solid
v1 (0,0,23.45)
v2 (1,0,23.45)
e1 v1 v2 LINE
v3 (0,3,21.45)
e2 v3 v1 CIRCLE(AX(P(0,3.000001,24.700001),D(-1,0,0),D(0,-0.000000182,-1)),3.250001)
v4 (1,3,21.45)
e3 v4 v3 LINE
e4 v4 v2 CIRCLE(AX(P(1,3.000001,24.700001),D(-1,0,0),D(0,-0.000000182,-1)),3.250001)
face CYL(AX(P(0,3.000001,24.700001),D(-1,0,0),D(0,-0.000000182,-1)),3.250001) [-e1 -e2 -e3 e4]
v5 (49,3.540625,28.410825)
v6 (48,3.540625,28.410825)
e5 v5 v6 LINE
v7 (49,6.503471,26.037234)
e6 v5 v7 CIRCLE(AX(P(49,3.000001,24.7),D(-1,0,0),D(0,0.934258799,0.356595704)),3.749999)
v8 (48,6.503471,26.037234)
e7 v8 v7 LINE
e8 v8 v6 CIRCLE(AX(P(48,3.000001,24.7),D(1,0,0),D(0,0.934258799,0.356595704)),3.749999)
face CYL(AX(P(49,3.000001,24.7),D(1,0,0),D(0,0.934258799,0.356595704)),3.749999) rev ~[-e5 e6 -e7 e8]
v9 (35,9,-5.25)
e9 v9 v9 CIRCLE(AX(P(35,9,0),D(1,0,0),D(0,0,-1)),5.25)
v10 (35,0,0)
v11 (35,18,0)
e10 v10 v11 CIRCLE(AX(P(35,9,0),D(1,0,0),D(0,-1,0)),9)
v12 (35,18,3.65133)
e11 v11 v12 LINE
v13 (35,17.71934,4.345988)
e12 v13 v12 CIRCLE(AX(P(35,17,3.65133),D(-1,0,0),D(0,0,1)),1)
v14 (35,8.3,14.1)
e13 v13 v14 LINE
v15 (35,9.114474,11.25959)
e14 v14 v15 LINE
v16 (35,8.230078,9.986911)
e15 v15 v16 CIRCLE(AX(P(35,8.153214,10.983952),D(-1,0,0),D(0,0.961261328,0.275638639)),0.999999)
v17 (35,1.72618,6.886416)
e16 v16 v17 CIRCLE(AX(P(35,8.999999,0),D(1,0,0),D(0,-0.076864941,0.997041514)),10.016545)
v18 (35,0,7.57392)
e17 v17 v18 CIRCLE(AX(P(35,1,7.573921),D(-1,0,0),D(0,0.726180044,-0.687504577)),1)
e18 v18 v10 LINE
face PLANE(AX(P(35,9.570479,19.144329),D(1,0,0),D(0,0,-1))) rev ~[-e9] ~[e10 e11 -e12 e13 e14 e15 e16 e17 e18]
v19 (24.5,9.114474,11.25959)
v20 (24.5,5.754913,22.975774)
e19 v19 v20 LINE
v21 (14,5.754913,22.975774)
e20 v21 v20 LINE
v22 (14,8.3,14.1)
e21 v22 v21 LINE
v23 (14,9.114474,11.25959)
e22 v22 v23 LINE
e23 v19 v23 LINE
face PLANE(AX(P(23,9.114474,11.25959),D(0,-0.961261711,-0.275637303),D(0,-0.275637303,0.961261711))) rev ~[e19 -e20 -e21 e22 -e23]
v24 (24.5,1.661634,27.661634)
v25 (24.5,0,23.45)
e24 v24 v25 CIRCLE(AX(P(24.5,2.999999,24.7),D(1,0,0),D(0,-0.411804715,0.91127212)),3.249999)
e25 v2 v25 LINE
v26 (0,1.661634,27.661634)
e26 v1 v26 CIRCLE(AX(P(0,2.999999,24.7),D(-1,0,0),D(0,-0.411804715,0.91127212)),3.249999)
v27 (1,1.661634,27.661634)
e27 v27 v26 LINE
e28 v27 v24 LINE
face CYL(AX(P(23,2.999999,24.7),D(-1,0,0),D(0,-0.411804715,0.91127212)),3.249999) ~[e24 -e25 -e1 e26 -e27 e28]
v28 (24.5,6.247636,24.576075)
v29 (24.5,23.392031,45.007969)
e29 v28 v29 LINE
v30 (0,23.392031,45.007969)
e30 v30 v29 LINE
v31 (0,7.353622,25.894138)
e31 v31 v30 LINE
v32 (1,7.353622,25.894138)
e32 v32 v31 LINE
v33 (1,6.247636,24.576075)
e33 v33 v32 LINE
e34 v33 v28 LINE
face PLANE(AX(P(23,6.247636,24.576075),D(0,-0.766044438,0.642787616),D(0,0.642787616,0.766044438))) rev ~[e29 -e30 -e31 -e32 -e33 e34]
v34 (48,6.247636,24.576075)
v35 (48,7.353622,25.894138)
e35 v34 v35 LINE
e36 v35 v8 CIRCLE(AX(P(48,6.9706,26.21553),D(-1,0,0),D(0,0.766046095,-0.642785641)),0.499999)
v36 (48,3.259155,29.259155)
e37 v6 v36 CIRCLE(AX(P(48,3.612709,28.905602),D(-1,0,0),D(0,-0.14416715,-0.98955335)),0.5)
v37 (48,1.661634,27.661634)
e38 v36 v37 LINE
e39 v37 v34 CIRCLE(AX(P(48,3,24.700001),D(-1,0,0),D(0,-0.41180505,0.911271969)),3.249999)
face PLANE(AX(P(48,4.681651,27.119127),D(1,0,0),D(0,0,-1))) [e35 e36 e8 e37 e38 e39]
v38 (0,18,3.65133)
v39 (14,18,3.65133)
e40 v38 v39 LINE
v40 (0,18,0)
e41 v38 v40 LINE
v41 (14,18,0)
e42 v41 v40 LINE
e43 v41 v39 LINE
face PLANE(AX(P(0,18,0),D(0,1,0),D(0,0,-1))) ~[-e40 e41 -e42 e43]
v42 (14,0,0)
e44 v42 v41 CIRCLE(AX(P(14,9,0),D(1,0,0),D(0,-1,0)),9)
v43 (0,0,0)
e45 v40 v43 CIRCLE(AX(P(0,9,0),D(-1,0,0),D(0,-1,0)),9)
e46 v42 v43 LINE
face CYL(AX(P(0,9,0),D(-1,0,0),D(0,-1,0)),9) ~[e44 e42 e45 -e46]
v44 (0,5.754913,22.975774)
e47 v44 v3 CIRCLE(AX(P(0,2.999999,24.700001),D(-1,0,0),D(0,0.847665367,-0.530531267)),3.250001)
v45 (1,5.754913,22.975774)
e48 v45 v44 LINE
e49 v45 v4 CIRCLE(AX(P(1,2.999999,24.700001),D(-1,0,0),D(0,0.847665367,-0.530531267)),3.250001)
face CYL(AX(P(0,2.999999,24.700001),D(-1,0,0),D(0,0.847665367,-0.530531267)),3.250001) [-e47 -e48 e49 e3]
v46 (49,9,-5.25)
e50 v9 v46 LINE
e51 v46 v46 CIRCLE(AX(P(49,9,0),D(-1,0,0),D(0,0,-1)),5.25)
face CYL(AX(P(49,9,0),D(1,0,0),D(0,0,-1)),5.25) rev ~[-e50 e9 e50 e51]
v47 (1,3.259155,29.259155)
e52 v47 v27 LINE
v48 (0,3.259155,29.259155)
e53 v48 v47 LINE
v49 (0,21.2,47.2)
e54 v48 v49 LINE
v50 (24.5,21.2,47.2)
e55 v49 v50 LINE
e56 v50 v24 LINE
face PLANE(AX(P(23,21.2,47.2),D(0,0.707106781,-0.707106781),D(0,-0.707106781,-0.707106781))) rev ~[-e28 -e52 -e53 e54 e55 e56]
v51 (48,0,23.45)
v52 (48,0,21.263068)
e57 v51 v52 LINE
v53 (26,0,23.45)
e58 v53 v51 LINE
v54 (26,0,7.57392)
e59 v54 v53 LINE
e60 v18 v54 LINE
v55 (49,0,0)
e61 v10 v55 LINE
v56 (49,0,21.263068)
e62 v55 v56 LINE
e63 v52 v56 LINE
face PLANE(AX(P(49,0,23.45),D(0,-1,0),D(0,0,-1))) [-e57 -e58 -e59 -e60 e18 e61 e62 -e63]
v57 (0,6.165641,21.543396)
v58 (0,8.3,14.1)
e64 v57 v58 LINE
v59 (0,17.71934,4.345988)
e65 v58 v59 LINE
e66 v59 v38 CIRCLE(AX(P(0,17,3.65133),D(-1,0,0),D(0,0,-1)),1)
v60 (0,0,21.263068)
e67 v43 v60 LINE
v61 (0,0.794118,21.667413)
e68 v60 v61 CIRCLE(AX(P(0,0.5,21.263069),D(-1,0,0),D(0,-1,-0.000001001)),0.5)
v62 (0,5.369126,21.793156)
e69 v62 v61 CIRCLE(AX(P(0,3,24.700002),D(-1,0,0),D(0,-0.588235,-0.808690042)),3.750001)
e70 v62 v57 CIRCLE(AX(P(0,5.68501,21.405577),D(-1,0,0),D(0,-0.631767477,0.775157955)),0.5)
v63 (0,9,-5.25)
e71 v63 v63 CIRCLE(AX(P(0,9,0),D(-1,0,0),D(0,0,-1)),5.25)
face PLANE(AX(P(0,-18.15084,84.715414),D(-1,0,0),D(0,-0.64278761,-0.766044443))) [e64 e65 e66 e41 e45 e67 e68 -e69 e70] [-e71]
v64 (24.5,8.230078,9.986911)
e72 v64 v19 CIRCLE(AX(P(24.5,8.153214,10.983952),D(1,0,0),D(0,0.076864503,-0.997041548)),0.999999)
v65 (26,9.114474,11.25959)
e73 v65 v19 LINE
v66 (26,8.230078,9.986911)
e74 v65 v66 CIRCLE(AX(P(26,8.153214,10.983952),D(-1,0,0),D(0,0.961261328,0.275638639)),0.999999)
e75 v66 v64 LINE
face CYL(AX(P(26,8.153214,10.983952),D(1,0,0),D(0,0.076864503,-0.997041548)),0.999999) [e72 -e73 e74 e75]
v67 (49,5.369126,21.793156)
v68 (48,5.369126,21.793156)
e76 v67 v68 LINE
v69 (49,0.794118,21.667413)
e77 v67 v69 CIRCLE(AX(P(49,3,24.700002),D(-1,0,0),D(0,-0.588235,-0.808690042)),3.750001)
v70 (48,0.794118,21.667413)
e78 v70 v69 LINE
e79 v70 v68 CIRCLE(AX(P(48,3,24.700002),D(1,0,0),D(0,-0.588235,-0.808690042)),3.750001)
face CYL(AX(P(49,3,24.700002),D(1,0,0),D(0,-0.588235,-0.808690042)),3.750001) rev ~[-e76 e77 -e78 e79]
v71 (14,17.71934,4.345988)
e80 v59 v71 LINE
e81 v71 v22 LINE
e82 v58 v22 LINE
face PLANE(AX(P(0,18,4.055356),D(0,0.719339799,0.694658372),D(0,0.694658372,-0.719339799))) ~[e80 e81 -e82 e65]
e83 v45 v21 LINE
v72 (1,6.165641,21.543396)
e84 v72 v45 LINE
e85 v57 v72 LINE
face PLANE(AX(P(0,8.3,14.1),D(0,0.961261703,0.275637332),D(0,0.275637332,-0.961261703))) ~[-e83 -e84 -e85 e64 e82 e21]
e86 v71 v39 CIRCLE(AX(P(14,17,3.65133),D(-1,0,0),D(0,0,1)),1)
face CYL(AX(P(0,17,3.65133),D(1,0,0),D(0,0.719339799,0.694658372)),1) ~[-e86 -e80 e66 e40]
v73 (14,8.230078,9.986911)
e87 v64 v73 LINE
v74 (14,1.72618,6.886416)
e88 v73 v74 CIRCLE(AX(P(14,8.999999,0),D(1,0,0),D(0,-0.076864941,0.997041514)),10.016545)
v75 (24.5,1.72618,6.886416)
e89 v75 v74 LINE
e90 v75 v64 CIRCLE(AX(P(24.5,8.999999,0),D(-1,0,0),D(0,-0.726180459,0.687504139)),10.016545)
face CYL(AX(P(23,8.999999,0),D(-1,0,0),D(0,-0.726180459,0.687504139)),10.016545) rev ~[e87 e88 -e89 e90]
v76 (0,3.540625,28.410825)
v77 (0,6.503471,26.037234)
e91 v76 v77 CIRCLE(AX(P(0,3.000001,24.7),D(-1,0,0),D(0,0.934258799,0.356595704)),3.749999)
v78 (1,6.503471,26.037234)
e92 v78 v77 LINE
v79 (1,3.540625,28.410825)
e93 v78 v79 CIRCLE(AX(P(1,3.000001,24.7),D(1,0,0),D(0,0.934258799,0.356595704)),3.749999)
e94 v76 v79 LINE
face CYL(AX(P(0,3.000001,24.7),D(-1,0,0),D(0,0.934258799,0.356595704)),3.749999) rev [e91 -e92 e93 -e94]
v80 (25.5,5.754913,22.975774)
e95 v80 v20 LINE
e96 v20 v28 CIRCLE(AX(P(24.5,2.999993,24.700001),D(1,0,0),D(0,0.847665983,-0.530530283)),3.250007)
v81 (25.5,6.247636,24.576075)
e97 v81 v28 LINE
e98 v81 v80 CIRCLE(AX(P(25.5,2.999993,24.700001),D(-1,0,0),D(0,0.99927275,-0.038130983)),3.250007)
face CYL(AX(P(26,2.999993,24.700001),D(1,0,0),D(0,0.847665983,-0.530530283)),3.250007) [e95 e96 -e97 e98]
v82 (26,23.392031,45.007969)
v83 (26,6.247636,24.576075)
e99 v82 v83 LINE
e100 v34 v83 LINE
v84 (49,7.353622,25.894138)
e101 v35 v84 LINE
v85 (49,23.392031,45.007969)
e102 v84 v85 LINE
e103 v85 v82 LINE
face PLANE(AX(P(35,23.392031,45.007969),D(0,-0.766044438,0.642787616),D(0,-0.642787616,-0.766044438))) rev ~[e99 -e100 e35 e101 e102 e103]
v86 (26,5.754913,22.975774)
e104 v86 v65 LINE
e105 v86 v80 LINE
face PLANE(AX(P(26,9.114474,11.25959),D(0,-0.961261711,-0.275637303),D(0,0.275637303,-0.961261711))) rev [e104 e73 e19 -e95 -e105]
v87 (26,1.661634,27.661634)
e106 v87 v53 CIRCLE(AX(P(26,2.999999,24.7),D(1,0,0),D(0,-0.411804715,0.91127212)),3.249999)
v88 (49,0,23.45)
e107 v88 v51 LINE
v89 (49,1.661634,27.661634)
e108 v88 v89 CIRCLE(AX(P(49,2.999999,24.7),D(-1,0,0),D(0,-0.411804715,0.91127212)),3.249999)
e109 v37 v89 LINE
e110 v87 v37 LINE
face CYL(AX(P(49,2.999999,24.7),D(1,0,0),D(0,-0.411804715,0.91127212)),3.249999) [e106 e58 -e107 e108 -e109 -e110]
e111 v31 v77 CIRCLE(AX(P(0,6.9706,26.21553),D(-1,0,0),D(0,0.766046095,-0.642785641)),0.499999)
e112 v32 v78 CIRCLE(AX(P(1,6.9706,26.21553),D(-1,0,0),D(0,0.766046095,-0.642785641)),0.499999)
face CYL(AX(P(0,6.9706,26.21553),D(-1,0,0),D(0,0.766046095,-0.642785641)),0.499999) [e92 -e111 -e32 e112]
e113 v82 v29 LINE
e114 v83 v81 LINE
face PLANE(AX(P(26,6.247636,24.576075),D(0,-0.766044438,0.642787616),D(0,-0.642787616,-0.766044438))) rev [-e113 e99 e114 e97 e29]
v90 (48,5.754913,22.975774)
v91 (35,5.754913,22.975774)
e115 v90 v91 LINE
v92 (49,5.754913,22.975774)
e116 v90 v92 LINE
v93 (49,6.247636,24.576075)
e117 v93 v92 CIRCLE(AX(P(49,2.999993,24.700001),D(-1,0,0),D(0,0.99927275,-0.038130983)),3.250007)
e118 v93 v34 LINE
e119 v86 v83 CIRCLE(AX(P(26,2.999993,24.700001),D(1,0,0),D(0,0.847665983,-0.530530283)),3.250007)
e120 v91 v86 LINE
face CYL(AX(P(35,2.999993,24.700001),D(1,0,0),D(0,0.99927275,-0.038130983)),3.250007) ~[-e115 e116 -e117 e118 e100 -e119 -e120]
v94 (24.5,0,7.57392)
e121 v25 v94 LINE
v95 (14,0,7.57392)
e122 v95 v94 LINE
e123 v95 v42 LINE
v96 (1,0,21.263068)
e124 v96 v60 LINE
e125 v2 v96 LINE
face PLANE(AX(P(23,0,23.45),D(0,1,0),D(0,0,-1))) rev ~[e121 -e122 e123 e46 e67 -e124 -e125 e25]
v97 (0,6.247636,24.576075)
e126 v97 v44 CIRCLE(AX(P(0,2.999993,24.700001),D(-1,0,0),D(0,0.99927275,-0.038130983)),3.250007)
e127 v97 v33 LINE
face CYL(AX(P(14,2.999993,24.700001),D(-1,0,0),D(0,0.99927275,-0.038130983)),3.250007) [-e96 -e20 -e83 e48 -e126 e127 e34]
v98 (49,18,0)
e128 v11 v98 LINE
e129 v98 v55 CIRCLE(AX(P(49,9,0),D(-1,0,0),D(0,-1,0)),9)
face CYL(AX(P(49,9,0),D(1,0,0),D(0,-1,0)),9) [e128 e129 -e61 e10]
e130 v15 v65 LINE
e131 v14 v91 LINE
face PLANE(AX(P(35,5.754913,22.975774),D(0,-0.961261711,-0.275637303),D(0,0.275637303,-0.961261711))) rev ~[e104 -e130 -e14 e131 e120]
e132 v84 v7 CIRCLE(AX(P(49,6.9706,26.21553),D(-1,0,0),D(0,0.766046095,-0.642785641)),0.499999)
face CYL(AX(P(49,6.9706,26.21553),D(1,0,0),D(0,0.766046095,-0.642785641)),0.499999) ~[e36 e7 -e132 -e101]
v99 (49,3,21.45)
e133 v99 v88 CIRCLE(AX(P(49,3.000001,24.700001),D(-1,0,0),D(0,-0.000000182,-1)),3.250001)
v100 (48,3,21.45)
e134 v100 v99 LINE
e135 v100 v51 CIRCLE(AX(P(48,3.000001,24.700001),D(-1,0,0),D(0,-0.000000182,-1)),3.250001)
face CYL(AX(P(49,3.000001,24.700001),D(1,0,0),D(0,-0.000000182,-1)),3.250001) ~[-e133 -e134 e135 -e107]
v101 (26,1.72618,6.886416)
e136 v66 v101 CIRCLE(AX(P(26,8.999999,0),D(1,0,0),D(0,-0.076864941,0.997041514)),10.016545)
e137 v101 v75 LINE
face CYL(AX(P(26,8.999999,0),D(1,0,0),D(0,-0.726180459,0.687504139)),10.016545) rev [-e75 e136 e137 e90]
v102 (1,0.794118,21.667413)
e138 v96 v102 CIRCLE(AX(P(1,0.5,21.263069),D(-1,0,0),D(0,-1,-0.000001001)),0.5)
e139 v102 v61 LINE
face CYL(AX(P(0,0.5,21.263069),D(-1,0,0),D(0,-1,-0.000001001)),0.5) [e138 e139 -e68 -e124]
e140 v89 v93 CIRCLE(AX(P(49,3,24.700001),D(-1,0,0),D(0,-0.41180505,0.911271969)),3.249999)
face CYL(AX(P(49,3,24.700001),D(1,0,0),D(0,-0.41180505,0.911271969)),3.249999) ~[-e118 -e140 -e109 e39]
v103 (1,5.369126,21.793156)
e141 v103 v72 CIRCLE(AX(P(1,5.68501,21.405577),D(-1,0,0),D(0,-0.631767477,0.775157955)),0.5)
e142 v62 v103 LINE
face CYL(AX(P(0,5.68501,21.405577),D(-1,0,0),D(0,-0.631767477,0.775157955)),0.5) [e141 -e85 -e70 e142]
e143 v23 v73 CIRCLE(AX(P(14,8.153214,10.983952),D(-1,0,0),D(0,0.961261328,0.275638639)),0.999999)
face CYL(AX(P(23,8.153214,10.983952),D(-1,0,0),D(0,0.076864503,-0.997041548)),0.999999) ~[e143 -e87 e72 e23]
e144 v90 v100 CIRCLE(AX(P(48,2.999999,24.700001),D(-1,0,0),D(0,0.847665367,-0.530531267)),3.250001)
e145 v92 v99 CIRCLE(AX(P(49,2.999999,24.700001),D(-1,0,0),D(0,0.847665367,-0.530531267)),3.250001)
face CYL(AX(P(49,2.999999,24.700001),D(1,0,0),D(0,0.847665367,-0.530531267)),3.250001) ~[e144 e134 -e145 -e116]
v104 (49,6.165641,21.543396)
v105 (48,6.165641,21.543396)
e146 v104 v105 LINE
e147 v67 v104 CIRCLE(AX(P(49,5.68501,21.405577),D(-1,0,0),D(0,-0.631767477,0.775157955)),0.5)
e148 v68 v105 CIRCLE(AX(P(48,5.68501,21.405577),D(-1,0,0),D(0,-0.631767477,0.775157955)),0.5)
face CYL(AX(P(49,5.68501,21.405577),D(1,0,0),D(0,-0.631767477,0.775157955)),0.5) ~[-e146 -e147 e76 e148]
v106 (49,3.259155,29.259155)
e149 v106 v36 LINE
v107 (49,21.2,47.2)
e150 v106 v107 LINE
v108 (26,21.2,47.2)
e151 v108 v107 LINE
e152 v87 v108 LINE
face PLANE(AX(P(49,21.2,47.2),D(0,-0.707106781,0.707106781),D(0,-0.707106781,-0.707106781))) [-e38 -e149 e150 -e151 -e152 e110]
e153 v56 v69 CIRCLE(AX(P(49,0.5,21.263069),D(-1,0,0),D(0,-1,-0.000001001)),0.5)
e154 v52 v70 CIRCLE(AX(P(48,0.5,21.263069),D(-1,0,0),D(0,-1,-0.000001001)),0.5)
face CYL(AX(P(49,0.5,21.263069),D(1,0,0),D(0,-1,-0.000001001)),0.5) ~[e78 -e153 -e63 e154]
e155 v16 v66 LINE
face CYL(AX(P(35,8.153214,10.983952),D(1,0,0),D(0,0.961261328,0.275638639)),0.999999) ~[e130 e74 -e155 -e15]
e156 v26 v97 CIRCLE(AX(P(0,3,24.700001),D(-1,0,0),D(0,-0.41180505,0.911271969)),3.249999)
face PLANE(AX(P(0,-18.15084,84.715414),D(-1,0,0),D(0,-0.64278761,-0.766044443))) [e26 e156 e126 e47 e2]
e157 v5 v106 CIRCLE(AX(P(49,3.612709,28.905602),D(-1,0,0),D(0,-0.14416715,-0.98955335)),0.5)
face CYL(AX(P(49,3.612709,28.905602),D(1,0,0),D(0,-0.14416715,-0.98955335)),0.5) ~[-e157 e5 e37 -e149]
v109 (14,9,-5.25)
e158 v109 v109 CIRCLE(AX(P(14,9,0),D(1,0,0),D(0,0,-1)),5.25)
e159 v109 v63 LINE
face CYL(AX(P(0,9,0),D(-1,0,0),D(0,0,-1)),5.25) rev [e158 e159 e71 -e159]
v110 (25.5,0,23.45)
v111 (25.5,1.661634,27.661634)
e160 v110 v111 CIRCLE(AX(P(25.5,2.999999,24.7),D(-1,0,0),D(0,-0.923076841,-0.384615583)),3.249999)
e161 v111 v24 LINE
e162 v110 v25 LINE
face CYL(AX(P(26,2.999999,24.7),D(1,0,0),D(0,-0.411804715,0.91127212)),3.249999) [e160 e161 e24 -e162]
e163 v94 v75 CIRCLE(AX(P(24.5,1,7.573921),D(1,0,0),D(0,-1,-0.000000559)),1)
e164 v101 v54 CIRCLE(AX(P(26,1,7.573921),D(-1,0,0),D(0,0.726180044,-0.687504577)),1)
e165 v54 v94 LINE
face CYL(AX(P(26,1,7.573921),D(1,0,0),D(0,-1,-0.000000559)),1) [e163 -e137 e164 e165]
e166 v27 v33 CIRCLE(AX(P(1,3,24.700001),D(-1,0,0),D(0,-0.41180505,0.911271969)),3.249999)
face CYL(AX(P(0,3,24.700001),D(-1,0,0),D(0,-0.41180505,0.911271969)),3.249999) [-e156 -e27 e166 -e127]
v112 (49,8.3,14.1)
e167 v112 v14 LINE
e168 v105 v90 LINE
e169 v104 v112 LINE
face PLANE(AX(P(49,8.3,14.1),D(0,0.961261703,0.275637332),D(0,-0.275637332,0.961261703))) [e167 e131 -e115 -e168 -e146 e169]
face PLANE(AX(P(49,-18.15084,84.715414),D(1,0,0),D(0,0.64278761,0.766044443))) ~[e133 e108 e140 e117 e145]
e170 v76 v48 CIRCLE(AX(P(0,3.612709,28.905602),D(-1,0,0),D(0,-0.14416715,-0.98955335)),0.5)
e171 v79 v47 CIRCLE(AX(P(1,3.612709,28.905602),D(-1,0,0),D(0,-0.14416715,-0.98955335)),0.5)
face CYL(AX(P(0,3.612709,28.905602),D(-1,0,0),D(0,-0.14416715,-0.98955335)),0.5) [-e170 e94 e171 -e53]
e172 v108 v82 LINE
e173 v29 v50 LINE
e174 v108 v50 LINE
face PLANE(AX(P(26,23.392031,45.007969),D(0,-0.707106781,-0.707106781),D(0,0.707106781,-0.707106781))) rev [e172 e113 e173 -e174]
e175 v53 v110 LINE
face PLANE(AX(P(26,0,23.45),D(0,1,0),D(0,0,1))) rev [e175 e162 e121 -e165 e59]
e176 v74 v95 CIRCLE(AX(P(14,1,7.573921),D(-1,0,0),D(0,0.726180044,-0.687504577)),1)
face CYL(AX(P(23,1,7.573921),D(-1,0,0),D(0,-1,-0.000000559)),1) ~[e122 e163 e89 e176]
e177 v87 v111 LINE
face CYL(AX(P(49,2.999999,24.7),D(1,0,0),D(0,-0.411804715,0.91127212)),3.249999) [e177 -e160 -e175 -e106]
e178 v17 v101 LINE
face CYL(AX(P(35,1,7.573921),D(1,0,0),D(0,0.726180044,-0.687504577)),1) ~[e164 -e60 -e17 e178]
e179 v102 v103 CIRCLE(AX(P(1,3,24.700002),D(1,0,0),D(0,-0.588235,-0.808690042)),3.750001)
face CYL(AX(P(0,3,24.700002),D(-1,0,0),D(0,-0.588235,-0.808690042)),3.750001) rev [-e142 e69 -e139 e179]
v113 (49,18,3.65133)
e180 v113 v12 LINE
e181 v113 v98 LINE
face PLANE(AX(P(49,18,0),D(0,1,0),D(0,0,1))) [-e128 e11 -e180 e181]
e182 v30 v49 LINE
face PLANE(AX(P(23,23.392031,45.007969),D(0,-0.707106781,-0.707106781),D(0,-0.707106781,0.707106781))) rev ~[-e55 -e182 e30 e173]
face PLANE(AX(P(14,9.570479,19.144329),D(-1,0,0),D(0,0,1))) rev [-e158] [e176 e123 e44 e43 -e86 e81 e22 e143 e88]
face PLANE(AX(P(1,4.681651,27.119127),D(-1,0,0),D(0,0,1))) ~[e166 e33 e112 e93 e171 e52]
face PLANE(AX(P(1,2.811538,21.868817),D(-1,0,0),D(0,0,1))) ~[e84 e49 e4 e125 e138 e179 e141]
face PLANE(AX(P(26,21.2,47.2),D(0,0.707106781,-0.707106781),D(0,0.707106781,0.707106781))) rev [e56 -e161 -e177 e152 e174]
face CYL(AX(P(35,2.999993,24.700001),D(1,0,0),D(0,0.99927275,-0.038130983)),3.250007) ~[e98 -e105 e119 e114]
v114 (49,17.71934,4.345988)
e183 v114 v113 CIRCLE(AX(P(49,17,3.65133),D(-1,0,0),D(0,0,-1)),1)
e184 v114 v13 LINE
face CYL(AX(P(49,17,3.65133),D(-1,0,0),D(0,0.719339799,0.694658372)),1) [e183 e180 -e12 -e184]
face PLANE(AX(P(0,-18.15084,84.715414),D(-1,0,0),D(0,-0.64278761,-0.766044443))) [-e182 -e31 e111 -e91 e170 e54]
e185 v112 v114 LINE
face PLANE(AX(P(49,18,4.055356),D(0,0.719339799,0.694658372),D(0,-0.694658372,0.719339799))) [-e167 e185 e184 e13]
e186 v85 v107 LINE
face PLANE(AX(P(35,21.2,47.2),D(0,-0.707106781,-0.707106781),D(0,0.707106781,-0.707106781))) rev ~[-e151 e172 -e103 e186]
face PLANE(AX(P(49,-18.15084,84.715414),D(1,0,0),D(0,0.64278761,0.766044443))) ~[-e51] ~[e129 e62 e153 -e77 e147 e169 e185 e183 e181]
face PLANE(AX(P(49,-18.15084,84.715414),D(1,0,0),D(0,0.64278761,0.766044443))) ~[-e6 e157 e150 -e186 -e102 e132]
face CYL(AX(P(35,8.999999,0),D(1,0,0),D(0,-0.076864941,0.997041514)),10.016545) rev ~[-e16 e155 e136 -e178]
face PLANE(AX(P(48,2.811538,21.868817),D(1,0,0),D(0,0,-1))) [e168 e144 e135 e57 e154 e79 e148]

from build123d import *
from build123d.topology import SkipClean

# Parameters (mm, degrees)
SKETCH2_R               = 5.25
BOSS_EXTRUDE1_DEPTH     = 14
CUT_EXTRUDE1_DEPTH      = 1
CUT_EXTRUDE2_DEPTH      = 1
BOSS_EXTRUDE2_DEPTH     = 9
BOSS_EXTRUDE3_DEPTH     = 9.5
FILLET1_R               = 1
FILLET1_OF_MIRROR1_R    = 1
CUT_EXTRUDE3_DEPTH      = 57.347139
CUT_EXTRUDE3_DEPTH_BACK = 57.347139
BOSS_EXTRUDE4_DEPTH     = 1.5


with BuildPart() as part:
    # Sketch2 → Boss-Extrude1 (new body)
    with BuildSketch(Plane(origin=(0, 0, 0), x_dir=(0, 0, -1), z_dir=(1, 0, 0))):
        with BuildLine():
            ThreePointArc((0, 0), (9, 9), (0, 18))
            Line((0, 18), (-4.055356, 18))
            Line((-4.055356, 18), (-14.1, 8.3))
            Line((-14.1, 8.3), (-22.975774, 5.754913))
            ThreePointArc((-22.975774, 5.754913), (-23.743648, 6.106105), (-24.576075, 6.247636))
            Line((-24.576075, 6.247636), (-45.007969, 23.392031))
            Line((-45.007969, 23.392031), (-47.2, 21.2))
            Line((-47.2, 21.2), (-27.661634, 1.661634))
            ThreePointArc((-27.661634, 1.661634), (-25.892761, -0.023214), (-23.45, 0))
            Line((-23.45, 0), (0, 0))
        make_face()
        with Locations((0, 9)):
            Circle(SKETCH2_R, mode=Mode.SUBTRACT)
    boss_extrude1 = extrude(amount=-BOSS_EXTRUDE1_DEPTH)

    # Sketch2<5> → Cut-Extrude1 (cut)
    with BuildSketch(Plane(origin=(0, 0, 0), x_dir=(0, 0, -1), z_dir=(1, 0, 0))):
        with BuildLine():
            Line((-29.259155, 3.259155), (-27.661634, 1.661634))
            ThreePointArc((-27.661634, 1.661634), (-27.39648, 4.814248), (-24.576075, 6.247636))
            Line((-24.576075, 6.247636), (-25.894138, 7.353622))
            ThreePointArc((-25.894138, 7.353622), (-25.722467, 6.887608), (-26.037234, 6.503471))
            ThreePointArc((-26.037234, 6.503471), (-27.62666, 5.344603), (-28.410825, 3.540625))
            ThreePointArc((-28.410825, 3.540625), (-28.748146, 3.138148), (-29.259155, 3.259155))
        make_face()
    cut_extrude1 = extrude(amount=-CUT_EXTRUDE1_DEPTH, mode=Mode.SUBTRACT)

    # Sketch2<6> → Cut-Extrude2 (cut)
    with SkipClean():  # the faces are left unmerged after this step: merging them gives an invalid solid
        with BuildSketch(Plane(origin=(0, 0, 0), x_dir=(0, 0, -1), z_dir=(1, 0, 0))):
            with BuildLine():
                Line((-23.45, 0), (-21.263068, 0))
                ThreePointArc((-21.263068, 0), (-21.708635, 0.273129), (-21.667413, 0.794118))
                ThreePointArc((-21.667413, 0.794118), (-20.951416, 3.103029), (-21.793156, 5.369126))
                ThreePointArc((-21.793156, 5.369126), (-21.882672, 5.834611), (-21.543396, 6.165641))
                Line((-21.543396, 6.165641), (-22.975774, 5.754913))
                ThreePointArc((-22.975774, 5.754913), (-21.856918, 4.574606), (-21.45, 3))
                ThreePointArc((-21.45, 3), (-21.995837, 1.197224), (-23.45, 0))
            make_face()
        cut_extrude2 = extrude(amount=-CUT_EXTRUDE2_DEPTH, mode=Mode.SUBTRACT)

    # Sketch3 → Boss-Extrude2 (add)
    with SkipClean():  # the faces are left unmerged after this step: merging them gives an invalid solid
        with BuildSketch(Plane.ZY.offset(14)):
            with BuildLine():
                Line((47.2, 21.2), (45.007969, 23.392031))
                Line((45.007969, 23.392031), (24.576075, 6.247636))
                ThreePointArc((24.576075, 6.247636), (23.743648, 6.106105), (22.975774, 5.754913))
                Line((22.975774, 5.754913), (11.25959, 9.114474))
                ThreePointArc((11.25959, 9.114474), (10.413299, 8.974404), (9.986911, 8.230078))
                ThreePointArc((9.986911, 8.230078), (9.041707, 4.689697), (6.886416, 1.72618))
                ThreePointArc((6.886416, 1.72618), (6.644894, 0.629987), (7.57392, 0))
                Line((7.57392, 0), (23.45, 0))
                ThreePointArc((23.45, 0), (25.892761, -0.023214), (27.661634, 1.661634))
                Line((27.661634, 1.661634), (47.2, 21.2))
            make_face()
        boss_extrude2 = extrude(amount=BOSS_EXTRUDE2_DEPTH)

    # Sketch3<3> → Boss-Extrude3 (add)
    with SkipClean():  # the faces are left unmerged after this step: merging them gives an invalid solid
        with BuildSketch(Plane.ZY.offset(14)):
            with BuildLine():
                ThreePointArc((27.95, 3), (26.953857, 5.341501), (24.576075, 6.247636))
                ThreePointArc((24.576075, 6.247636), (23.743648, 6.106105), (22.975774, 5.754913))
                ThreePointArc((22.975774, 5.754913), (21.460978, 2.733093), (23.45, 0))
                ThreePointArc((23.45, 0), (25.892761, -0.023214), (27.661634, 1.661634))
                ThreePointArc((27.661634, 1.661634), (27.877091, 2.31546), (27.95, 3))
            make_face()
        boss_extrude3 = extrude(amount=BOSS_EXTRUDE3_DEPTH)

    # Fillet1
    fillet1_edges = [part.edges().sort_by_distance(p)[0] for p in [
        (-7, 18, 4.055356),
    ]]
    fillet(fillet1_edges, radius=FILLET1_R)

    # Mirror1: Boss-Extrude1, Cut-Extrude1, Cut-Extrude2, Boss-Extrude2, Boss-Extrude3 across plane
    with SkipClean():  # the faces are left unmerged after this step: merging them gives an invalid solid
        add(boss_extrude1.mirror(Plane(origin=(0, 0, 0), x_dir=(0, 0, 1), z_dir=(1, 0, 0))))
        add(cut_extrude1.mirror(Plane(origin=(0, 0, 0), x_dir=(0, 0, 1), z_dir=(1, 0, 0))), mode=Mode.SUBTRACT)
        add(cut_extrude2.mirror(Plane(origin=(0, 0, 0), x_dir=(0, 0, 1), z_dir=(1, 0, 0))), mode=Mode.SUBTRACT)
        add(boss_extrude2.mirror(Plane(origin=(0, 0, 0), x_dir=(0, 0, 1), z_dir=(1, 0, 0))))
        add(boss_extrude3.mirror(Plane(origin=(0, 0, 0), x_dir=(0, 0, 1), z_dir=(1, 0, 0))))

    # Fillet1 of Mirror1
    fillet1_of_mirror1_edges = [part.edges().sort_by_distance(p)[0] for p in [
        (7, 18, 4.055356),
    ]]
    fillet(fillet1_of_mirror1_edges, radius=FILLET1_OF_MIRROR1_R)

    # Sketch4 → Cut-Extrude3 (cut, two sides: drawn at the far end of the back side and taken through both)
    with SkipClean():  # the faces are left unmerged after this step: merging them gives an invalid solid
        with BuildSketch(Plane(origin=(0, -8.435091, 7.077882), x_dir=(1, 0, 0), z_dir=(0, 0.7660444431189767, -0.6427876096865409)).offset(-CUT_EXTRUDE3_DEPTH_BACK)):
            Polygon((0, 0), (0, -53.228637), (-37.923085, -53.228637), (-37.923085, 7.135531), (0, 7.135531), align=None)
        extrude(amount=CUT_EXTRUDE3_DEPTH + CUT_EXTRUDE3_DEPTH_BACK, mode=Mode.SUBTRACT)

    # Sketch7 → Boss-Extrude4 (add)
    with SkipClean():  # the faces are left unmerged after this step: merging them gives an invalid solid
        with BuildSketch(Plane(origin=(23, 0, 0), x_dir=(0, 0, -1), z_dir=(1, 0, 0))):
            with BuildLine():
                Line((-11.25959, 9.114474), (-22.975774, 5.754913))
                ThreePointArc((-22.975774, 5.754913), (-23.743648, 6.106105), (-24.576075, 6.247636))
                Line((-24.576075, 6.247636), (-45.007969, 23.392031))
                Line((-45.007969, 23.392031), (-47.2, 21.2))
                Line((-47.2, 21.2), (-27.661634, 1.661634))
                ThreePointArc((-27.661634, 1.661634), (-25.892761, -0.023214), (-23.45, 0))
                Line((-23.45, 0), (-7.57392, 0))
                ThreePointArc((-7.57392, 0), (-6.644894, 0.629987), (-6.886416, 1.72618))
                ThreePointArc((-6.886416, 1.72618), (-9.041707, 4.689697), (-9.986911, 8.230078))
                ThreePointArc((-9.986911, 8.230078), (-10.413299, 8.974404), (-11.25959, 9.114474))
            make_face()
        extrude(amount=BOSS_EXTRUDE4_DEPTH)

    # Mirror14: part across plane


with BuildPart() as part_1:
    with SkipClean():  # the faces are left unmerged after this step: merging them gives an invalid solid
        add(part.part)
        add(part.part.mirror(Plane(origin=(24.5, 0, 0), x_dir=(0, 0, 1), z_dir=(1, 0, 0))))


solid = part_1.part
